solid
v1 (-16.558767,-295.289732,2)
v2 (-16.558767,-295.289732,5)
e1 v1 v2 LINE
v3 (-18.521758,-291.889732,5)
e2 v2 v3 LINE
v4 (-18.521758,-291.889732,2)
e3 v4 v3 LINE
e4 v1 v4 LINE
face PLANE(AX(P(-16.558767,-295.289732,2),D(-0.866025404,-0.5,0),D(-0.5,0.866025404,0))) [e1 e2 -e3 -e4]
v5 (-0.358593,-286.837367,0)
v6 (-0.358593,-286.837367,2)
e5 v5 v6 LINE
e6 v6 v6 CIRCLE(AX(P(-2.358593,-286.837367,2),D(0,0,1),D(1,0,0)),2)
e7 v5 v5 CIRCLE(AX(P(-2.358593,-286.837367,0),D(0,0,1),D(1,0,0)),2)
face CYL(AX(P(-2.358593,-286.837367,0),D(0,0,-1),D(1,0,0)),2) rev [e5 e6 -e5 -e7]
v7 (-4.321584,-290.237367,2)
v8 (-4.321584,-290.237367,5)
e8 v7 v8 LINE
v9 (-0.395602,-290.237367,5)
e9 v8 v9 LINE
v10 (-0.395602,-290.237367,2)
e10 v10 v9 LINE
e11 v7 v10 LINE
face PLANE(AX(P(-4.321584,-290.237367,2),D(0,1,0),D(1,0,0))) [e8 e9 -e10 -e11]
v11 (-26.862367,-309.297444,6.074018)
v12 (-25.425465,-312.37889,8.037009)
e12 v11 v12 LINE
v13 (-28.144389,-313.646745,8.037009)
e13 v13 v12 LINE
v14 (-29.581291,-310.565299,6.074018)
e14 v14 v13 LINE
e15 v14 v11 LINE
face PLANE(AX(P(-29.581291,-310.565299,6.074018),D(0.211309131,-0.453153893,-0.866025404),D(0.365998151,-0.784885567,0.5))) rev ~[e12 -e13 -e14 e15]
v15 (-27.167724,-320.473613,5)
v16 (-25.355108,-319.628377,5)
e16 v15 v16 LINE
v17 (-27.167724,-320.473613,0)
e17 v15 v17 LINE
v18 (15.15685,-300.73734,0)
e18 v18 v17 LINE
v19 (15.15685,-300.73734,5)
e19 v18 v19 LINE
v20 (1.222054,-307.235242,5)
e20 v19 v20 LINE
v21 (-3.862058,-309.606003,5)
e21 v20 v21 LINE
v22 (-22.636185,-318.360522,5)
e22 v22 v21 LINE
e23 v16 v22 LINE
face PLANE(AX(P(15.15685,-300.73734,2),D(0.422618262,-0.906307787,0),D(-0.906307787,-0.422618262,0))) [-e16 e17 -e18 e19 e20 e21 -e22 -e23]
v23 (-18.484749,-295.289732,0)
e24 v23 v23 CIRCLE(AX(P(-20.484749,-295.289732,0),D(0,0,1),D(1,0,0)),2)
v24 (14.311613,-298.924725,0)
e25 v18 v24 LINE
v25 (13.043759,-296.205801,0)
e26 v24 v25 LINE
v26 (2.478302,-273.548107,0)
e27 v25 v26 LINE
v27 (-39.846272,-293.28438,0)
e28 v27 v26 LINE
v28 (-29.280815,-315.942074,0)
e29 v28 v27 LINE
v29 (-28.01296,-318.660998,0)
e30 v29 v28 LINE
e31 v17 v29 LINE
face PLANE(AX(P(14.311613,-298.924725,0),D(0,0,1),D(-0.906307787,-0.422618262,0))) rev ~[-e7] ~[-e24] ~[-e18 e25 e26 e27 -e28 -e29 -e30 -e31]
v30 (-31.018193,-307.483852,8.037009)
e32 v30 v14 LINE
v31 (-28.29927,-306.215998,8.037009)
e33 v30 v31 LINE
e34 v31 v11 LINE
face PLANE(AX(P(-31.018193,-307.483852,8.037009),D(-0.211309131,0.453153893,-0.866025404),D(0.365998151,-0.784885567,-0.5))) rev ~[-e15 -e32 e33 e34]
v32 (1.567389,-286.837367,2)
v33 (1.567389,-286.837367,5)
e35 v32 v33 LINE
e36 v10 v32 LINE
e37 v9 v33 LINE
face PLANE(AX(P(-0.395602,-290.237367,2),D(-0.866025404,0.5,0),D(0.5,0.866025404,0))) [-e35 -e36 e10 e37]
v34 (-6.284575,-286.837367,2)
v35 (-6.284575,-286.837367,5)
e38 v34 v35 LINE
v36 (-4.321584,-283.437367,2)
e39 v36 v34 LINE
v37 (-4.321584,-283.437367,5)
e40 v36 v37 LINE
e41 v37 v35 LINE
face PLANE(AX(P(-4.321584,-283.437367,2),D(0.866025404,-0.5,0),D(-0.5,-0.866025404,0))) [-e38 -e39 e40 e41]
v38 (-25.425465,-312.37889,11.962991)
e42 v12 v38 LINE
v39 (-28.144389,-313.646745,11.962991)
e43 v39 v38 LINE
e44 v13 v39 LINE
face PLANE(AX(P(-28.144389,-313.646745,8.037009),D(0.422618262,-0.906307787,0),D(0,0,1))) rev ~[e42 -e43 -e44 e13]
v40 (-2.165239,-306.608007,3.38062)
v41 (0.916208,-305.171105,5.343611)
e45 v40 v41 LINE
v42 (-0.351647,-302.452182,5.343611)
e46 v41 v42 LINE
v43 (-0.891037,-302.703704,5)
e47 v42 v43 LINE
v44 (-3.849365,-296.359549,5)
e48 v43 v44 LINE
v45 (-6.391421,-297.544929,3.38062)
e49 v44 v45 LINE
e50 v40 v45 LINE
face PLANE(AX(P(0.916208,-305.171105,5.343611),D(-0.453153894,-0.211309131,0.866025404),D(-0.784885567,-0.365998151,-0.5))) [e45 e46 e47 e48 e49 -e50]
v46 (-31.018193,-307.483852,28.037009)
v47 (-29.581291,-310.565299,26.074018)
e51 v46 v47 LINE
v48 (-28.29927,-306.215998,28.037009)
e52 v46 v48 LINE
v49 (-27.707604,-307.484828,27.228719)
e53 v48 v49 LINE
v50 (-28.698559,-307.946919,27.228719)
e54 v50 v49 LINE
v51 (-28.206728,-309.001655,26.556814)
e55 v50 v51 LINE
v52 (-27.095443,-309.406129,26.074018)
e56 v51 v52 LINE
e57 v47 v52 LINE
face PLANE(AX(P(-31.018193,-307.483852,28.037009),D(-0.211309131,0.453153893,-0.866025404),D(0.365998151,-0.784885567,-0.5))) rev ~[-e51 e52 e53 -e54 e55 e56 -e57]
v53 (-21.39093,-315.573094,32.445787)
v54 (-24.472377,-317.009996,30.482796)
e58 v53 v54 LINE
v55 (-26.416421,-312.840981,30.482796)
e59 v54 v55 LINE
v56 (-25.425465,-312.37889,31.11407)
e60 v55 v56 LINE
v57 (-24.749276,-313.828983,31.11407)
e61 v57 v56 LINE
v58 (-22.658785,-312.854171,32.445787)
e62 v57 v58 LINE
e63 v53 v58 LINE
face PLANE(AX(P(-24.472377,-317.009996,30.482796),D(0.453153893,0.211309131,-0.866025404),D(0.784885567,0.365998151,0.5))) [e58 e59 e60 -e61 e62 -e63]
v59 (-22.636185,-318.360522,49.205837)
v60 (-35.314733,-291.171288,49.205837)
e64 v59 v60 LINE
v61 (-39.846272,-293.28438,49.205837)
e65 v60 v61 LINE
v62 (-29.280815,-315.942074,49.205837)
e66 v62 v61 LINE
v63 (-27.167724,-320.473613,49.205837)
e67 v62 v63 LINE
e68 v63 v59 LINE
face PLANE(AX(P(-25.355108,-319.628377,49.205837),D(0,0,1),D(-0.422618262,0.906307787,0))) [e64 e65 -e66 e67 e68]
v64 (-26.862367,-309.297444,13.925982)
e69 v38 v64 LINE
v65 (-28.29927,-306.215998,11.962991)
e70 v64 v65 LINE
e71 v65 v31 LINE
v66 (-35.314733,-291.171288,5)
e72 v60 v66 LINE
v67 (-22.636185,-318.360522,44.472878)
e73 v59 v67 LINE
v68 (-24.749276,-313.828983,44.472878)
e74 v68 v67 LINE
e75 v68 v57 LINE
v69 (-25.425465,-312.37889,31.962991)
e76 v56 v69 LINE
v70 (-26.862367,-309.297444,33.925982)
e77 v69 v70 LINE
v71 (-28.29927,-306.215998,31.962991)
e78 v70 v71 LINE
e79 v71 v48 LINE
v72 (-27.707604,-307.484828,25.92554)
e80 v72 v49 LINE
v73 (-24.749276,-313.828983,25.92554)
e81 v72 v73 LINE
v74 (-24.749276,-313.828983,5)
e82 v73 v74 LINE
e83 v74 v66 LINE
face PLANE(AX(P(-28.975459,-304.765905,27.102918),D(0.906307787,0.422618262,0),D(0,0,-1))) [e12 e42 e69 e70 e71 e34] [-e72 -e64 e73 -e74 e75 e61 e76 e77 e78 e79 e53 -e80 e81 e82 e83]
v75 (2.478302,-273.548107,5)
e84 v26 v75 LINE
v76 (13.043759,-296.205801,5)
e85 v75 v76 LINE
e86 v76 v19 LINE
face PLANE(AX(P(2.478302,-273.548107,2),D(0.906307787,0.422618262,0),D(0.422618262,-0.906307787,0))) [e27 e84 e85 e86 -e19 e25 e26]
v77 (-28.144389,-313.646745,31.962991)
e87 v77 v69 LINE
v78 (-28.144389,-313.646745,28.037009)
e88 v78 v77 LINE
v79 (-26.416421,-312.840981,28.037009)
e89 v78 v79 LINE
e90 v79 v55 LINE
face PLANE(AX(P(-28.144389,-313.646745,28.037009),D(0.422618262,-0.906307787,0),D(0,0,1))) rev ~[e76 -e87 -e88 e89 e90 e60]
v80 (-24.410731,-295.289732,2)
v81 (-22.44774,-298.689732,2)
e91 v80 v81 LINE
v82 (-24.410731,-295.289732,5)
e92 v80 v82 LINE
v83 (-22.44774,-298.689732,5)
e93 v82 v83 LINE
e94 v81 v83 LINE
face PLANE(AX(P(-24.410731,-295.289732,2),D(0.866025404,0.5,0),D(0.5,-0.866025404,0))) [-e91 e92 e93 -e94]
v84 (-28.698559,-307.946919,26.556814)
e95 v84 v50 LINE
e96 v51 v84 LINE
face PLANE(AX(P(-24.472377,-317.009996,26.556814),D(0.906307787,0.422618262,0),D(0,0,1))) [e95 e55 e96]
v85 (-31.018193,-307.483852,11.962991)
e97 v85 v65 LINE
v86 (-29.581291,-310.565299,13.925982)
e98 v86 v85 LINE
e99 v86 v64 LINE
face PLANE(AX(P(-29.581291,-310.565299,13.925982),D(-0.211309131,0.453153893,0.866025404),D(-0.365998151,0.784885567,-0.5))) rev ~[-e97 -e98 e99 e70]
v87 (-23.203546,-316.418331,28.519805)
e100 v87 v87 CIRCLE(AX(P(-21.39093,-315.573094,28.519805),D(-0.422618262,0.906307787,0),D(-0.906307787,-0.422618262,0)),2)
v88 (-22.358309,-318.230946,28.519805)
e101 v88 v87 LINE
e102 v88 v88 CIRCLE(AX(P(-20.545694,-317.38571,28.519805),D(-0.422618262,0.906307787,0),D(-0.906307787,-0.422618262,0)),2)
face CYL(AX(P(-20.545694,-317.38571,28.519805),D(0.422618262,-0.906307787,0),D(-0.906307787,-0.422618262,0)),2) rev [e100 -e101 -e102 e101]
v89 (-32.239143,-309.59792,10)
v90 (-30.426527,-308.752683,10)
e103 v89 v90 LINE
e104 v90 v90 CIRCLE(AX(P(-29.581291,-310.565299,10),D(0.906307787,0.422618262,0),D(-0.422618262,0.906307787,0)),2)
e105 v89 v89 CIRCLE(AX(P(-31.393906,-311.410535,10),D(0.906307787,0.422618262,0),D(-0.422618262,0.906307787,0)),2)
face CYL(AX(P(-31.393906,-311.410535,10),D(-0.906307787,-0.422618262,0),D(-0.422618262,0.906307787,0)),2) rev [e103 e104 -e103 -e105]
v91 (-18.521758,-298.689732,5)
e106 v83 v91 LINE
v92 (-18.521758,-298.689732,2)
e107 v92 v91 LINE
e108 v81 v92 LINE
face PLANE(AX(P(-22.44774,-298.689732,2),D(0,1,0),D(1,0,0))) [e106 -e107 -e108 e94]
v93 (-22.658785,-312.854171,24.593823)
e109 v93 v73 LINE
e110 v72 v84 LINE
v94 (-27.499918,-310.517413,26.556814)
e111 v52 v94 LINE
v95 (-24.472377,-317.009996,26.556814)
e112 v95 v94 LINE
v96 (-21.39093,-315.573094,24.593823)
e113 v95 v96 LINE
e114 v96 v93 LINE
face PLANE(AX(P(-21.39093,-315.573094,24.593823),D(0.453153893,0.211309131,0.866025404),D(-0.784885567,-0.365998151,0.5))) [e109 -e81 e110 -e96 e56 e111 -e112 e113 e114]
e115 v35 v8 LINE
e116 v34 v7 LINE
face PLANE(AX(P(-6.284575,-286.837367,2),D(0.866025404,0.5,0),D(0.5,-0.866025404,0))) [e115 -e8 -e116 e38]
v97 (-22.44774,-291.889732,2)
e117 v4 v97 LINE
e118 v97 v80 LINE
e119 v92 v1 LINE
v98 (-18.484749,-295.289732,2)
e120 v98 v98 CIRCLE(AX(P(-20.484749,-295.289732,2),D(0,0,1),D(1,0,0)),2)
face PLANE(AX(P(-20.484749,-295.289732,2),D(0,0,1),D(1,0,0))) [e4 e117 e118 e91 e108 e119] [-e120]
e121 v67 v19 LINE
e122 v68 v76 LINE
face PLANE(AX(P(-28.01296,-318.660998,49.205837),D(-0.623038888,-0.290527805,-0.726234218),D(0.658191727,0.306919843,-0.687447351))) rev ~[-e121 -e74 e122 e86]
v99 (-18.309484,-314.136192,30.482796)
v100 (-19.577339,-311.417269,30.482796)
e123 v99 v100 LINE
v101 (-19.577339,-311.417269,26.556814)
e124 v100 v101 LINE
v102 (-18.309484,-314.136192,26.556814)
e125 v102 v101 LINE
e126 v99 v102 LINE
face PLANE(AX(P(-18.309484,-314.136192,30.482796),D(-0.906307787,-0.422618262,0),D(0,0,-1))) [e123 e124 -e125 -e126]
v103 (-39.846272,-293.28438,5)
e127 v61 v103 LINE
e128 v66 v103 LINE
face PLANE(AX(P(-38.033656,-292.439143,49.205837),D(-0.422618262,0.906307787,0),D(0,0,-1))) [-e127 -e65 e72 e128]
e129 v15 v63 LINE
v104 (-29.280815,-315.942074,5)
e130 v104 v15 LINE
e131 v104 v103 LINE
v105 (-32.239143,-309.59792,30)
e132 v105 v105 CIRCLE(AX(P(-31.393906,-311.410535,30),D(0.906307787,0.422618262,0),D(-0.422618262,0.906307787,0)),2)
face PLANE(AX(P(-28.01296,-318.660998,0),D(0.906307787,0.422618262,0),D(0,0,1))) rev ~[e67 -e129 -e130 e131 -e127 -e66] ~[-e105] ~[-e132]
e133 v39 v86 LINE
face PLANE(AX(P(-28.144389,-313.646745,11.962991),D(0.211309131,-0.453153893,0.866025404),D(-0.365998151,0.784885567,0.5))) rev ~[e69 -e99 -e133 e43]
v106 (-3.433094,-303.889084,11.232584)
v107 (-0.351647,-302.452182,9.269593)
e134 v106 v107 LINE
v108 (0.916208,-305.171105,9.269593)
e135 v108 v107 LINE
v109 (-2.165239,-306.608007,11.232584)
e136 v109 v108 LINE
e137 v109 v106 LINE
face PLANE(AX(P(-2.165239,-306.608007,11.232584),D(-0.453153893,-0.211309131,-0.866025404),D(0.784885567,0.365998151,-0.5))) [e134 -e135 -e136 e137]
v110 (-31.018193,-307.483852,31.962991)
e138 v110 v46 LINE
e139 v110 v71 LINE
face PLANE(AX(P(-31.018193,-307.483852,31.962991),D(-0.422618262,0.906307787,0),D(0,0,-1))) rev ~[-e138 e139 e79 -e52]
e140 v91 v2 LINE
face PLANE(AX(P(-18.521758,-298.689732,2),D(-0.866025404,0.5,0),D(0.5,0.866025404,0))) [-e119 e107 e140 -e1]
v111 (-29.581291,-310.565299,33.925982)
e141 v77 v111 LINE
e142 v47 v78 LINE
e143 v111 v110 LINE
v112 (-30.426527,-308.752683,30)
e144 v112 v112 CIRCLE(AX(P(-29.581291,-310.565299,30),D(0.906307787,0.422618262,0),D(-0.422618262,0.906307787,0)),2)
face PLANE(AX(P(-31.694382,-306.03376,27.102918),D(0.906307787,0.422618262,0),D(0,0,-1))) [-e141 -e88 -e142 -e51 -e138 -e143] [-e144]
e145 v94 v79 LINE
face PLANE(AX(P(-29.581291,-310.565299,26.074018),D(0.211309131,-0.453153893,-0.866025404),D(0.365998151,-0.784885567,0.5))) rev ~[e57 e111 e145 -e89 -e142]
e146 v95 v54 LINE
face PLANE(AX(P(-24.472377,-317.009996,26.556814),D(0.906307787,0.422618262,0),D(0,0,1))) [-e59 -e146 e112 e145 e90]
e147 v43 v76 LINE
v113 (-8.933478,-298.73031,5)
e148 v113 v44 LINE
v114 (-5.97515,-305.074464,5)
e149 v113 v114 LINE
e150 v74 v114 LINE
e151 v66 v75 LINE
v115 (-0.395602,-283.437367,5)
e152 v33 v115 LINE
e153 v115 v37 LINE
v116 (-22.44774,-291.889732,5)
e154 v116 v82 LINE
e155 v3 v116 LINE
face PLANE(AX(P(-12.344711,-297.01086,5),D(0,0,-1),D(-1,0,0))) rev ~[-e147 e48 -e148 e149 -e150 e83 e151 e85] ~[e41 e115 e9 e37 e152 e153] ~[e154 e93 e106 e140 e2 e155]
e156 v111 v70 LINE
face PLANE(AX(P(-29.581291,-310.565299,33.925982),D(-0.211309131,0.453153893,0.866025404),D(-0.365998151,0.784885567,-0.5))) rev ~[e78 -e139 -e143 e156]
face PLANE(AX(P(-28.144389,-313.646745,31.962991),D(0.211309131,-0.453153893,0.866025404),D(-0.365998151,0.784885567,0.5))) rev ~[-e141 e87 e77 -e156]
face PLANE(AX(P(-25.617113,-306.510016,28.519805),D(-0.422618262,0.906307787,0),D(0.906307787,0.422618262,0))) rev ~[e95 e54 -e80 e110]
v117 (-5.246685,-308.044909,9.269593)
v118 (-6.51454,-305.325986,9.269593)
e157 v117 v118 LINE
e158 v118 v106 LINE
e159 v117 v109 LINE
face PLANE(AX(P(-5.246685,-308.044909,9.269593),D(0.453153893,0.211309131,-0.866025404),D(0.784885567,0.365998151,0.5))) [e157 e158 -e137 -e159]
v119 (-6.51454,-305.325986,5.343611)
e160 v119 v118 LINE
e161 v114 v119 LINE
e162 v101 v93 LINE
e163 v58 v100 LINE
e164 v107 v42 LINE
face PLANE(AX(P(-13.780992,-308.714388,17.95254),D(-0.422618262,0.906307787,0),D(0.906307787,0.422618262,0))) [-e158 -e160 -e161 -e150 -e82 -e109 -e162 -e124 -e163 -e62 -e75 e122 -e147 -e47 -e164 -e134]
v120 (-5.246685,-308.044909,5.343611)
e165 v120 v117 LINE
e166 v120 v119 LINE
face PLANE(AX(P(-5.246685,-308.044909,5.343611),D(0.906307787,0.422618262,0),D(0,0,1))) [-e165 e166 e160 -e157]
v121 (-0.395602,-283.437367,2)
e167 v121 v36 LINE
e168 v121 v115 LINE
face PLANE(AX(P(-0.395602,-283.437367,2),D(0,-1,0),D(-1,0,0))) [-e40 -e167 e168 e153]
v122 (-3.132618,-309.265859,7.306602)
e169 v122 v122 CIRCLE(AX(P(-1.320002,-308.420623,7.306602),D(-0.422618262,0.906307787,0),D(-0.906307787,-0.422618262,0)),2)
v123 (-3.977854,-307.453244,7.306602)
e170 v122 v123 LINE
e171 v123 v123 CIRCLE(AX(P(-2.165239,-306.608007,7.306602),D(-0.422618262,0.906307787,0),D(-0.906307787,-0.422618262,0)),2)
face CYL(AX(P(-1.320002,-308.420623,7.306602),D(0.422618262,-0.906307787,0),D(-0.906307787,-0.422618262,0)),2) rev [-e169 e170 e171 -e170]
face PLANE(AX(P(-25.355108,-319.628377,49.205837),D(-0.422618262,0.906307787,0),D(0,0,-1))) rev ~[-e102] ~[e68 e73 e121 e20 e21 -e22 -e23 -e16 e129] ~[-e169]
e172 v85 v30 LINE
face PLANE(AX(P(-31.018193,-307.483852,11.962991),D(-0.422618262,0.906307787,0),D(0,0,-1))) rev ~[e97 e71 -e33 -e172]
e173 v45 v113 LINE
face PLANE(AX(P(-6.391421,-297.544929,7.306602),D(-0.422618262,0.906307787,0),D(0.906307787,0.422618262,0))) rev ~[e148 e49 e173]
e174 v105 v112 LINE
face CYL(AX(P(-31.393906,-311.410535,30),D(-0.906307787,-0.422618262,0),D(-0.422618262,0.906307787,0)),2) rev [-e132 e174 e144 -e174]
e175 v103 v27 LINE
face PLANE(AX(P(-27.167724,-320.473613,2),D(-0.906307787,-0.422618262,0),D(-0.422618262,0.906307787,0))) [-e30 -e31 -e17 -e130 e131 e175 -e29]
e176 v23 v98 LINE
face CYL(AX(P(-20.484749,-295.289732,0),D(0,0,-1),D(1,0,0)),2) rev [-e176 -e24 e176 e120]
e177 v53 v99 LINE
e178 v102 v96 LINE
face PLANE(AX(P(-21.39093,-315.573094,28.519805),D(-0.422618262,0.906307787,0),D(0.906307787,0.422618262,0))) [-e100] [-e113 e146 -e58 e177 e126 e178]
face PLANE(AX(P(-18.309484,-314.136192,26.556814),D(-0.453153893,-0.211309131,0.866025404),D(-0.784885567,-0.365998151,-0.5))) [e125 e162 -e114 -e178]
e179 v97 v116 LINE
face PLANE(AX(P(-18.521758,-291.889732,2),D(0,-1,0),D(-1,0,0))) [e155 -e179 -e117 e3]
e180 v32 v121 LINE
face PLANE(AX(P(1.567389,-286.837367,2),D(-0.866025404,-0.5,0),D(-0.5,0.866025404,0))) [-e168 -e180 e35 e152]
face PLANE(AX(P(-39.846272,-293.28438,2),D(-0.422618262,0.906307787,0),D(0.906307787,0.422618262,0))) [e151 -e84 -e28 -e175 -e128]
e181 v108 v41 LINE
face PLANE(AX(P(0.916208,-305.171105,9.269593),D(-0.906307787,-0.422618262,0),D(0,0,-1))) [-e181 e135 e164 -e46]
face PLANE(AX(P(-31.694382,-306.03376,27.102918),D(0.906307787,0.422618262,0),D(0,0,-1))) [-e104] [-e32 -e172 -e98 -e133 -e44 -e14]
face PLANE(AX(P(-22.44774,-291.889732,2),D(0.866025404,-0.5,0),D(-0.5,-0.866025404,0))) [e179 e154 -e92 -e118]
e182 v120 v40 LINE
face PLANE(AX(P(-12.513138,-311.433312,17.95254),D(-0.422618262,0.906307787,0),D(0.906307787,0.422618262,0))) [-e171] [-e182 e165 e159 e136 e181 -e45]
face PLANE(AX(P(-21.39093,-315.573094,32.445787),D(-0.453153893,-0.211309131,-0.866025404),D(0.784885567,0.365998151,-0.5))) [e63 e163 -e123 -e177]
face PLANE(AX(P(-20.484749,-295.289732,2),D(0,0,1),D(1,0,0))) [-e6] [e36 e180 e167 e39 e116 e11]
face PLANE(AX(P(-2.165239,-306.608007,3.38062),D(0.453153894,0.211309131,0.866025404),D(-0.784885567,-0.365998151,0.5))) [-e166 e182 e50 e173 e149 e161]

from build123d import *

# Parameters (mm, degrees)
SKETCH1_R           = 2
BOSS_EXTRUDE1_DEPTH = 2
BOSS_EXTRUDE2_START = 2
BOSS_EXTRUDE2_DEPTH = 3
SKETCH3_R           = 2
BOSS_EXTRUDE3_DEPTH = 2
BOSS_EXTRUDE4_START = 2
BOSS_EXTRUDE4_DEPTH = 3
SKETCH4_W           = 44.205836774
SKETCH4_H           = 30
SKETCH4_R           = 2
BOSS_EXTRUDE5_DEPTH = 2
BOSS_EXTRUDE6_START = 2
SKETCH4_4_W         = 44.205836774
SKETCH4_4_H         = 30
BOSS_EXTRUDE6_DEPTH = 3
CUT_EXTRUDE1_START  = 2
SKETCH3_5_R         = 2
CUT_EXTRUDE1_DEPTH  = 10


with BuildPart() as part:
    # Sketch1 → Boss-Extrude1 (new body)
    # profile 1 of 3: a face of its own
    with BuildSketch(Plane.XY):
        Polygon((15.156849888, -300.73734036), (-27.167723767, -320.473613183), (-39.846271619, -293.284379572), (2.478302036, -273.548106749), align=None)
        Polygon((-22.447739873, -291.889732471), (-24.410730789, -295.289732471), (-22.447739873, -298.689732471), (-18.521758043, -298.689732471), (-16.558767128, -295.289732471), (-18.521758043, -291.889732471), align=None, mode=Mode.SUBTRACT)
        Polygon((-4.321584133, -283.437367237), (-6.284575048, -286.837367237), (-4.321584133, -290.237367237), (-0.395602302, -290.237367237), (1.567388613, -286.837367237), (-0.395602302, -283.437367237), align=None, mode=Mode.SUBTRACT)
    # profile 2 of 3: a face of its own
    with BuildSketch(Plane.XY):
        Polygon((-0.395602302, -283.437367237), (-4.321584133, -283.437367237), (-6.284575048, -286.837367237), (-4.321584133, -290.237367237), (-0.395602302, -290.237367237), (1.567388613, -286.837367237), align=None)
        with Locations((-2.358593217, -286.837367237)):
            Circle(SKETCH1_R, mode=Mode.SUBTRACT)
    # profile 3 of 3: a face of its own
    with BuildSketch(Plane.XY):
        Polygon((-18.521758043, -291.889732471), (-22.447739873, -291.889732471), (-24.410730789, -295.289732471), (-22.447739873, -298.689732471), (-18.521758043, -298.689732471), (-16.558767128, -295.289732471), align=None)
        with Locations((-20.484748958, -295.289732471)):
            Circle(SKETCH1_R, mode=Mode.SUBTRACT)
    extrude(amount=BOSS_EXTRUDE1_DEPTH)

    # Sketch1<3> → Boss-Extrude2 (add)
    with BuildSketch(Plane.XY.offset(BOSS_EXTRUDE2_START)):
        Polygon((15.156849888, -300.73734036), (-27.167723767, -320.473613183), (-39.846271619, -293.284379572), (2.478302036, -273.548106749), align=None)
        Polygon((-22.447739873, -291.889732471), (-24.410730789, -295.289732471), (-22.447739873, -298.689732471), (-18.521758043, -298.689732471), (-16.558767128, -295.289732471), (-18.521758043, -291.889732471), align=None, mode=Mode.SUBTRACT)
        Polygon((-4.321584133, -283.437367237), (-6.284575048, -286.837367237), (-4.321584133, -290.237367237), (-0.395602302, -290.237367237), (1.567388613, -286.837367237), (-0.395602302, -283.437367237), align=None, mode=Mode.SUBTRACT)
    extrude(amount=BOSS_EXTRUDE2_DEPTH)

    # Sketch3 → Boss-Extrude3 (add)
    # profile 1 of 3: a face of its own
    with BuildSketch(Plane(origin=(117.8961915, -252.829198573, 0), x_dir=(0.9063077870366509, 0.42261826174069744, 0), z_dir=(-0.42261826174069744, 0.9063077870366509, 0))):
        Polygon((-113.360320943, 0), (-160.060320943, 0), (-160.060320943, -5), (-160.060320943, -49.205836774), (-113.360320943, -5), align=None)
        Polygon((-149.353719225, -30.482796069), (-149.353719225, -26.556814238), (-152.753719225, -24.593823323), (-156.153719225, -26.556814238), (-156.153719225, -30.482796069), (-152.753719225, -32.445786984), align=None, mode=Mode.SUBTRACT)
        Polygon((-128.14051579, -5.343610803), (-131.54051579, -3.380619887), (-134.94051579, -5.343610803), (-134.94051579, -9.269592633), (-131.54051579, -11.232583548), (-128.14051579, -9.269592633), align=None, mode=Mode.SUBTRACT)
    # profile 2 of 3: a face of its own
    with BuildSketch(Plane(origin=(117.8961915, -252.829198573, 0), x_dir=(0.9063077870366509, 0.42261826174069744, 0), z_dir=(-0.42261826174069744, 0.9063077870366509, 0))):
        Polygon((-128.14051579, -5.343610803), (-128.735667158, -5), (-134.345364422, -5), (-134.94051579, -5.343610803), (-134.94051579, -9.269592633), (-131.54051579, -11.232583548), (-128.14051579, -9.269592633), align=None)
        with Locations(Location((-131.54051579, -7.306601718, 0), (0, 0, 180))):
            Circle(SKETCH3_R, mode=Mode.SUBTRACT)
    # profile 3 of 3: a face of its own
    with BuildSketch(Plane(origin=(117.8961915, -252.829198573, 0), x_dir=(0.9063077870366509, 0.42261826174069744, 0), z_dir=(-0.42261826174069744, 0.9063077870366509, 0))):
        Polygon((-149.353719225, -30.482796069), (-149.353719225, -26.556814238), (-152.753719225, -24.593823323), (-156.153719225, -26.556814238), (-156.153719225, -30.482796069), (-152.753719225, -32.445786984), align=None)
        with Locations(Location((-152.753719225, -28.519805153, 0), (0, 0, 180))):
            Circle(SKETCH3_R, mode=Mode.SUBTRACT)
    extrude(amount=BOSS_EXTRUDE3_DEPTH)

    # Sketch3<4> → Boss-Extrude4 (add)
    with BuildSketch(Plane(origin=(117.8961915, -252.829198573, 0), x_dir=(0.9063077870366509, 0.42261826174069744, 0), z_dir=(-0.42261826174069744, 0.9063077870366509, 0)).offset(BOSS_EXTRUDE4_START)):
        Polygon((-113.360320943, 0), (-160.060320943, 0), (-160.060320943, -5), (-160.060320943, -49.205836774), (-113.360320943, -5), align=None)
        Polygon((-149.353719225, -30.482796069), (-149.353719225, -26.556814238), (-152.753719225, -24.593823323), (-156.153719225, -26.556814238), (-156.153719225, -30.482796069), (-152.753719225, -32.445786984), align=None, mode=Mode.SUBTRACT)
        Polygon((-128.14051579, -5.343610803), (-131.54051579, -3.380619887), (-134.94051579, -5.343610803), (-134.94051579, -9.269592633), (-131.54051579, -11.232583548), (-128.14051579, -9.269592633), align=None, mode=Mode.SUBTRACT)
    extrude(amount=BOSS_EXTRUDE4_DEPTH)

    # Sketch4 → Boss-Extrude5 (add)
    # profile 1 of 3: a face of its own
    with BuildSketch(Plane(origin=(-145.063915266, -67.644414611, 0), x_dir=(0, 0, -1), z_dir=(0.9063077870366509, 0.42261826174069744, 1.6586764924388181e-15))):
        with Locations((-27.102918387, -263.966154974)):
            Rectangle(SKETCH4_W, SKETCH4_H)
        Polygon((-31.962990915, -272.366154974), (-33.92598183, -268.966154974), (-31.962990915, -265.566154974), (-28.037009085, -265.566154974), (-26.07401817, -268.966154974), (-28.037009085, -272.366154974), align=None, mode=Mode.SUBTRACT)
        Polygon((-11.962990915, -272.366154974), (-13.92598183, -268.966154974), (-11.962990915, -265.566154974), (-8.037009085, -265.566154974), (-6.07401817, -268.966154974), (-8.037009085, -272.366154974), align=None, mode=Mode.SUBTRACT)
    # profile 2 of 3: a face of its own
    with BuildSketch(Plane(origin=(-145.063915266, -67.644414611, 0), x_dir=(0, 0, -1), z_dir=(0.9063077870366509, 0.42261826174069744, 1.6586764924388181e-15))):
        Polygon((-28.037009085, -265.566154974), (-31.962990915, -265.566154974), (-33.92598183, -268.966154974), (-31.962990915, -272.366154974), (-28.037009085, -272.366154974), (-26.07401817, -268.966154974), align=None)
        with Locations(Location((-30, -268.966154974, 0), (0, 0, 90))):
            Circle(SKETCH4_R, mode=Mode.SUBTRACT)
    # profile 3 of 3: a face of its own
    with BuildSketch(Plane(origin=(-145.063915266, -67.644414611, 0), x_dir=(0, 0, -1), z_dir=(0.9063077870366509, 0.42261826174069744, 1.6586764924388181e-15))):
        Polygon((-8.037009085, -265.566154974), (-11.962990915, -265.566154974), (-13.92598183, -268.966154974), (-11.962990915, -272.366154974), (-8.037009085, -272.366154974), (-6.07401817, -268.966154974), align=None)
        with Locations(Location((-10, -268.966154974, 0), (0, 0, 90))):
            Circle(SKETCH4_R, mode=Mode.SUBTRACT)
    extrude(amount=BOSS_EXTRUDE5_DEPTH)

    # Sketch4<4> → Boss-Extrude6 (add)
    with BuildSketch(Plane(origin=(-145.063915266, -67.644414611, 0), x_dir=(0, 0, -1), z_dir=(0.9063077870366509, 0.42261826174069744, 1.6586764924388181e-15)).offset(BOSS_EXTRUDE6_START)):
        with Locations((-27.102918387, -263.966154974)):
            Rectangle(SKETCH4_4_W, SKETCH4_4_H)
        Polygon((-31.962990915, -272.366154974), (-33.92598183, -268.966154974), (-31.962990915, -265.566154974), (-28.037009085, -265.566154974), (-26.07401817, -268.966154974), (-28.037009085, -272.366154974), align=None, mode=Mode.SUBTRACT)
        Polygon((-11.962990915, -272.366154974), (-13.92598183, -268.966154974), (-11.962990915, -265.566154974), (-8.037009085, -265.566154974), (-6.07401817, -268.966154974), (-8.037009085, -272.366154974), align=None, mode=Mode.SUBTRACT)
    extrude(amount=BOSS_EXTRUDE6_DEPTH)

    # Sketch3<5> → Cut-Extrude1 (cut)
    # profile 1 of 2: a face of its own
    with BuildSketch(Plane(origin=(117.8961915, -252.829198573, 0), x_dir=(0.9063077870366509, 0.42261826174069744, 0), z_dir=(-0.42261826174069744, 0.9063077870366509, 0)).offset(CUT_EXTRUDE1_START)):
        Polygon((-128.14051579, -5.343610803), (-131.54051579, -3.380619887), (-134.94051579, -5.343610803), (-134.94051579, -9.269592633), (-131.54051579, -11.232583548), (-128.14051579, -9.269592633), align=None)
        with Locations(Location((-131.54051579, -7.306601718, 0), (0, 0, 180))):
            Circle(SKETCH3_5_R, mode=Mode.SUBTRACT)
    # profile 2 of 2: a face of its own
    with BuildSketch(Plane(origin=(117.8961915, -252.829198573, 0), x_dir=(0.9063077870366509, 0.42261826174069744, 0), z_dir=(-0.42261826174069744, 0.9063077870366509, 0)).offset(CUT_EXTRUDE1_START)):
        Polygon((-149.353719225, -30.482796069), (-149.353719225, -26.556814238), (-152.753719225, -24.593823323), (-156.153719225, -26.556814238), (-156.153719225, -30.482796069), (-152.753719225, -32.445786984), align=None)
        with Locations(Location((-152.753719225, -28.519805153, 0), (0, 0, 180))):
            Circle(SKETCH3_5_R, mode=Mode.SUBTRACT)
    extrude(amount=CUT_EXTRUDE1_DEPTH, mode=Mode.SUBTRACT)


solid = part.part
